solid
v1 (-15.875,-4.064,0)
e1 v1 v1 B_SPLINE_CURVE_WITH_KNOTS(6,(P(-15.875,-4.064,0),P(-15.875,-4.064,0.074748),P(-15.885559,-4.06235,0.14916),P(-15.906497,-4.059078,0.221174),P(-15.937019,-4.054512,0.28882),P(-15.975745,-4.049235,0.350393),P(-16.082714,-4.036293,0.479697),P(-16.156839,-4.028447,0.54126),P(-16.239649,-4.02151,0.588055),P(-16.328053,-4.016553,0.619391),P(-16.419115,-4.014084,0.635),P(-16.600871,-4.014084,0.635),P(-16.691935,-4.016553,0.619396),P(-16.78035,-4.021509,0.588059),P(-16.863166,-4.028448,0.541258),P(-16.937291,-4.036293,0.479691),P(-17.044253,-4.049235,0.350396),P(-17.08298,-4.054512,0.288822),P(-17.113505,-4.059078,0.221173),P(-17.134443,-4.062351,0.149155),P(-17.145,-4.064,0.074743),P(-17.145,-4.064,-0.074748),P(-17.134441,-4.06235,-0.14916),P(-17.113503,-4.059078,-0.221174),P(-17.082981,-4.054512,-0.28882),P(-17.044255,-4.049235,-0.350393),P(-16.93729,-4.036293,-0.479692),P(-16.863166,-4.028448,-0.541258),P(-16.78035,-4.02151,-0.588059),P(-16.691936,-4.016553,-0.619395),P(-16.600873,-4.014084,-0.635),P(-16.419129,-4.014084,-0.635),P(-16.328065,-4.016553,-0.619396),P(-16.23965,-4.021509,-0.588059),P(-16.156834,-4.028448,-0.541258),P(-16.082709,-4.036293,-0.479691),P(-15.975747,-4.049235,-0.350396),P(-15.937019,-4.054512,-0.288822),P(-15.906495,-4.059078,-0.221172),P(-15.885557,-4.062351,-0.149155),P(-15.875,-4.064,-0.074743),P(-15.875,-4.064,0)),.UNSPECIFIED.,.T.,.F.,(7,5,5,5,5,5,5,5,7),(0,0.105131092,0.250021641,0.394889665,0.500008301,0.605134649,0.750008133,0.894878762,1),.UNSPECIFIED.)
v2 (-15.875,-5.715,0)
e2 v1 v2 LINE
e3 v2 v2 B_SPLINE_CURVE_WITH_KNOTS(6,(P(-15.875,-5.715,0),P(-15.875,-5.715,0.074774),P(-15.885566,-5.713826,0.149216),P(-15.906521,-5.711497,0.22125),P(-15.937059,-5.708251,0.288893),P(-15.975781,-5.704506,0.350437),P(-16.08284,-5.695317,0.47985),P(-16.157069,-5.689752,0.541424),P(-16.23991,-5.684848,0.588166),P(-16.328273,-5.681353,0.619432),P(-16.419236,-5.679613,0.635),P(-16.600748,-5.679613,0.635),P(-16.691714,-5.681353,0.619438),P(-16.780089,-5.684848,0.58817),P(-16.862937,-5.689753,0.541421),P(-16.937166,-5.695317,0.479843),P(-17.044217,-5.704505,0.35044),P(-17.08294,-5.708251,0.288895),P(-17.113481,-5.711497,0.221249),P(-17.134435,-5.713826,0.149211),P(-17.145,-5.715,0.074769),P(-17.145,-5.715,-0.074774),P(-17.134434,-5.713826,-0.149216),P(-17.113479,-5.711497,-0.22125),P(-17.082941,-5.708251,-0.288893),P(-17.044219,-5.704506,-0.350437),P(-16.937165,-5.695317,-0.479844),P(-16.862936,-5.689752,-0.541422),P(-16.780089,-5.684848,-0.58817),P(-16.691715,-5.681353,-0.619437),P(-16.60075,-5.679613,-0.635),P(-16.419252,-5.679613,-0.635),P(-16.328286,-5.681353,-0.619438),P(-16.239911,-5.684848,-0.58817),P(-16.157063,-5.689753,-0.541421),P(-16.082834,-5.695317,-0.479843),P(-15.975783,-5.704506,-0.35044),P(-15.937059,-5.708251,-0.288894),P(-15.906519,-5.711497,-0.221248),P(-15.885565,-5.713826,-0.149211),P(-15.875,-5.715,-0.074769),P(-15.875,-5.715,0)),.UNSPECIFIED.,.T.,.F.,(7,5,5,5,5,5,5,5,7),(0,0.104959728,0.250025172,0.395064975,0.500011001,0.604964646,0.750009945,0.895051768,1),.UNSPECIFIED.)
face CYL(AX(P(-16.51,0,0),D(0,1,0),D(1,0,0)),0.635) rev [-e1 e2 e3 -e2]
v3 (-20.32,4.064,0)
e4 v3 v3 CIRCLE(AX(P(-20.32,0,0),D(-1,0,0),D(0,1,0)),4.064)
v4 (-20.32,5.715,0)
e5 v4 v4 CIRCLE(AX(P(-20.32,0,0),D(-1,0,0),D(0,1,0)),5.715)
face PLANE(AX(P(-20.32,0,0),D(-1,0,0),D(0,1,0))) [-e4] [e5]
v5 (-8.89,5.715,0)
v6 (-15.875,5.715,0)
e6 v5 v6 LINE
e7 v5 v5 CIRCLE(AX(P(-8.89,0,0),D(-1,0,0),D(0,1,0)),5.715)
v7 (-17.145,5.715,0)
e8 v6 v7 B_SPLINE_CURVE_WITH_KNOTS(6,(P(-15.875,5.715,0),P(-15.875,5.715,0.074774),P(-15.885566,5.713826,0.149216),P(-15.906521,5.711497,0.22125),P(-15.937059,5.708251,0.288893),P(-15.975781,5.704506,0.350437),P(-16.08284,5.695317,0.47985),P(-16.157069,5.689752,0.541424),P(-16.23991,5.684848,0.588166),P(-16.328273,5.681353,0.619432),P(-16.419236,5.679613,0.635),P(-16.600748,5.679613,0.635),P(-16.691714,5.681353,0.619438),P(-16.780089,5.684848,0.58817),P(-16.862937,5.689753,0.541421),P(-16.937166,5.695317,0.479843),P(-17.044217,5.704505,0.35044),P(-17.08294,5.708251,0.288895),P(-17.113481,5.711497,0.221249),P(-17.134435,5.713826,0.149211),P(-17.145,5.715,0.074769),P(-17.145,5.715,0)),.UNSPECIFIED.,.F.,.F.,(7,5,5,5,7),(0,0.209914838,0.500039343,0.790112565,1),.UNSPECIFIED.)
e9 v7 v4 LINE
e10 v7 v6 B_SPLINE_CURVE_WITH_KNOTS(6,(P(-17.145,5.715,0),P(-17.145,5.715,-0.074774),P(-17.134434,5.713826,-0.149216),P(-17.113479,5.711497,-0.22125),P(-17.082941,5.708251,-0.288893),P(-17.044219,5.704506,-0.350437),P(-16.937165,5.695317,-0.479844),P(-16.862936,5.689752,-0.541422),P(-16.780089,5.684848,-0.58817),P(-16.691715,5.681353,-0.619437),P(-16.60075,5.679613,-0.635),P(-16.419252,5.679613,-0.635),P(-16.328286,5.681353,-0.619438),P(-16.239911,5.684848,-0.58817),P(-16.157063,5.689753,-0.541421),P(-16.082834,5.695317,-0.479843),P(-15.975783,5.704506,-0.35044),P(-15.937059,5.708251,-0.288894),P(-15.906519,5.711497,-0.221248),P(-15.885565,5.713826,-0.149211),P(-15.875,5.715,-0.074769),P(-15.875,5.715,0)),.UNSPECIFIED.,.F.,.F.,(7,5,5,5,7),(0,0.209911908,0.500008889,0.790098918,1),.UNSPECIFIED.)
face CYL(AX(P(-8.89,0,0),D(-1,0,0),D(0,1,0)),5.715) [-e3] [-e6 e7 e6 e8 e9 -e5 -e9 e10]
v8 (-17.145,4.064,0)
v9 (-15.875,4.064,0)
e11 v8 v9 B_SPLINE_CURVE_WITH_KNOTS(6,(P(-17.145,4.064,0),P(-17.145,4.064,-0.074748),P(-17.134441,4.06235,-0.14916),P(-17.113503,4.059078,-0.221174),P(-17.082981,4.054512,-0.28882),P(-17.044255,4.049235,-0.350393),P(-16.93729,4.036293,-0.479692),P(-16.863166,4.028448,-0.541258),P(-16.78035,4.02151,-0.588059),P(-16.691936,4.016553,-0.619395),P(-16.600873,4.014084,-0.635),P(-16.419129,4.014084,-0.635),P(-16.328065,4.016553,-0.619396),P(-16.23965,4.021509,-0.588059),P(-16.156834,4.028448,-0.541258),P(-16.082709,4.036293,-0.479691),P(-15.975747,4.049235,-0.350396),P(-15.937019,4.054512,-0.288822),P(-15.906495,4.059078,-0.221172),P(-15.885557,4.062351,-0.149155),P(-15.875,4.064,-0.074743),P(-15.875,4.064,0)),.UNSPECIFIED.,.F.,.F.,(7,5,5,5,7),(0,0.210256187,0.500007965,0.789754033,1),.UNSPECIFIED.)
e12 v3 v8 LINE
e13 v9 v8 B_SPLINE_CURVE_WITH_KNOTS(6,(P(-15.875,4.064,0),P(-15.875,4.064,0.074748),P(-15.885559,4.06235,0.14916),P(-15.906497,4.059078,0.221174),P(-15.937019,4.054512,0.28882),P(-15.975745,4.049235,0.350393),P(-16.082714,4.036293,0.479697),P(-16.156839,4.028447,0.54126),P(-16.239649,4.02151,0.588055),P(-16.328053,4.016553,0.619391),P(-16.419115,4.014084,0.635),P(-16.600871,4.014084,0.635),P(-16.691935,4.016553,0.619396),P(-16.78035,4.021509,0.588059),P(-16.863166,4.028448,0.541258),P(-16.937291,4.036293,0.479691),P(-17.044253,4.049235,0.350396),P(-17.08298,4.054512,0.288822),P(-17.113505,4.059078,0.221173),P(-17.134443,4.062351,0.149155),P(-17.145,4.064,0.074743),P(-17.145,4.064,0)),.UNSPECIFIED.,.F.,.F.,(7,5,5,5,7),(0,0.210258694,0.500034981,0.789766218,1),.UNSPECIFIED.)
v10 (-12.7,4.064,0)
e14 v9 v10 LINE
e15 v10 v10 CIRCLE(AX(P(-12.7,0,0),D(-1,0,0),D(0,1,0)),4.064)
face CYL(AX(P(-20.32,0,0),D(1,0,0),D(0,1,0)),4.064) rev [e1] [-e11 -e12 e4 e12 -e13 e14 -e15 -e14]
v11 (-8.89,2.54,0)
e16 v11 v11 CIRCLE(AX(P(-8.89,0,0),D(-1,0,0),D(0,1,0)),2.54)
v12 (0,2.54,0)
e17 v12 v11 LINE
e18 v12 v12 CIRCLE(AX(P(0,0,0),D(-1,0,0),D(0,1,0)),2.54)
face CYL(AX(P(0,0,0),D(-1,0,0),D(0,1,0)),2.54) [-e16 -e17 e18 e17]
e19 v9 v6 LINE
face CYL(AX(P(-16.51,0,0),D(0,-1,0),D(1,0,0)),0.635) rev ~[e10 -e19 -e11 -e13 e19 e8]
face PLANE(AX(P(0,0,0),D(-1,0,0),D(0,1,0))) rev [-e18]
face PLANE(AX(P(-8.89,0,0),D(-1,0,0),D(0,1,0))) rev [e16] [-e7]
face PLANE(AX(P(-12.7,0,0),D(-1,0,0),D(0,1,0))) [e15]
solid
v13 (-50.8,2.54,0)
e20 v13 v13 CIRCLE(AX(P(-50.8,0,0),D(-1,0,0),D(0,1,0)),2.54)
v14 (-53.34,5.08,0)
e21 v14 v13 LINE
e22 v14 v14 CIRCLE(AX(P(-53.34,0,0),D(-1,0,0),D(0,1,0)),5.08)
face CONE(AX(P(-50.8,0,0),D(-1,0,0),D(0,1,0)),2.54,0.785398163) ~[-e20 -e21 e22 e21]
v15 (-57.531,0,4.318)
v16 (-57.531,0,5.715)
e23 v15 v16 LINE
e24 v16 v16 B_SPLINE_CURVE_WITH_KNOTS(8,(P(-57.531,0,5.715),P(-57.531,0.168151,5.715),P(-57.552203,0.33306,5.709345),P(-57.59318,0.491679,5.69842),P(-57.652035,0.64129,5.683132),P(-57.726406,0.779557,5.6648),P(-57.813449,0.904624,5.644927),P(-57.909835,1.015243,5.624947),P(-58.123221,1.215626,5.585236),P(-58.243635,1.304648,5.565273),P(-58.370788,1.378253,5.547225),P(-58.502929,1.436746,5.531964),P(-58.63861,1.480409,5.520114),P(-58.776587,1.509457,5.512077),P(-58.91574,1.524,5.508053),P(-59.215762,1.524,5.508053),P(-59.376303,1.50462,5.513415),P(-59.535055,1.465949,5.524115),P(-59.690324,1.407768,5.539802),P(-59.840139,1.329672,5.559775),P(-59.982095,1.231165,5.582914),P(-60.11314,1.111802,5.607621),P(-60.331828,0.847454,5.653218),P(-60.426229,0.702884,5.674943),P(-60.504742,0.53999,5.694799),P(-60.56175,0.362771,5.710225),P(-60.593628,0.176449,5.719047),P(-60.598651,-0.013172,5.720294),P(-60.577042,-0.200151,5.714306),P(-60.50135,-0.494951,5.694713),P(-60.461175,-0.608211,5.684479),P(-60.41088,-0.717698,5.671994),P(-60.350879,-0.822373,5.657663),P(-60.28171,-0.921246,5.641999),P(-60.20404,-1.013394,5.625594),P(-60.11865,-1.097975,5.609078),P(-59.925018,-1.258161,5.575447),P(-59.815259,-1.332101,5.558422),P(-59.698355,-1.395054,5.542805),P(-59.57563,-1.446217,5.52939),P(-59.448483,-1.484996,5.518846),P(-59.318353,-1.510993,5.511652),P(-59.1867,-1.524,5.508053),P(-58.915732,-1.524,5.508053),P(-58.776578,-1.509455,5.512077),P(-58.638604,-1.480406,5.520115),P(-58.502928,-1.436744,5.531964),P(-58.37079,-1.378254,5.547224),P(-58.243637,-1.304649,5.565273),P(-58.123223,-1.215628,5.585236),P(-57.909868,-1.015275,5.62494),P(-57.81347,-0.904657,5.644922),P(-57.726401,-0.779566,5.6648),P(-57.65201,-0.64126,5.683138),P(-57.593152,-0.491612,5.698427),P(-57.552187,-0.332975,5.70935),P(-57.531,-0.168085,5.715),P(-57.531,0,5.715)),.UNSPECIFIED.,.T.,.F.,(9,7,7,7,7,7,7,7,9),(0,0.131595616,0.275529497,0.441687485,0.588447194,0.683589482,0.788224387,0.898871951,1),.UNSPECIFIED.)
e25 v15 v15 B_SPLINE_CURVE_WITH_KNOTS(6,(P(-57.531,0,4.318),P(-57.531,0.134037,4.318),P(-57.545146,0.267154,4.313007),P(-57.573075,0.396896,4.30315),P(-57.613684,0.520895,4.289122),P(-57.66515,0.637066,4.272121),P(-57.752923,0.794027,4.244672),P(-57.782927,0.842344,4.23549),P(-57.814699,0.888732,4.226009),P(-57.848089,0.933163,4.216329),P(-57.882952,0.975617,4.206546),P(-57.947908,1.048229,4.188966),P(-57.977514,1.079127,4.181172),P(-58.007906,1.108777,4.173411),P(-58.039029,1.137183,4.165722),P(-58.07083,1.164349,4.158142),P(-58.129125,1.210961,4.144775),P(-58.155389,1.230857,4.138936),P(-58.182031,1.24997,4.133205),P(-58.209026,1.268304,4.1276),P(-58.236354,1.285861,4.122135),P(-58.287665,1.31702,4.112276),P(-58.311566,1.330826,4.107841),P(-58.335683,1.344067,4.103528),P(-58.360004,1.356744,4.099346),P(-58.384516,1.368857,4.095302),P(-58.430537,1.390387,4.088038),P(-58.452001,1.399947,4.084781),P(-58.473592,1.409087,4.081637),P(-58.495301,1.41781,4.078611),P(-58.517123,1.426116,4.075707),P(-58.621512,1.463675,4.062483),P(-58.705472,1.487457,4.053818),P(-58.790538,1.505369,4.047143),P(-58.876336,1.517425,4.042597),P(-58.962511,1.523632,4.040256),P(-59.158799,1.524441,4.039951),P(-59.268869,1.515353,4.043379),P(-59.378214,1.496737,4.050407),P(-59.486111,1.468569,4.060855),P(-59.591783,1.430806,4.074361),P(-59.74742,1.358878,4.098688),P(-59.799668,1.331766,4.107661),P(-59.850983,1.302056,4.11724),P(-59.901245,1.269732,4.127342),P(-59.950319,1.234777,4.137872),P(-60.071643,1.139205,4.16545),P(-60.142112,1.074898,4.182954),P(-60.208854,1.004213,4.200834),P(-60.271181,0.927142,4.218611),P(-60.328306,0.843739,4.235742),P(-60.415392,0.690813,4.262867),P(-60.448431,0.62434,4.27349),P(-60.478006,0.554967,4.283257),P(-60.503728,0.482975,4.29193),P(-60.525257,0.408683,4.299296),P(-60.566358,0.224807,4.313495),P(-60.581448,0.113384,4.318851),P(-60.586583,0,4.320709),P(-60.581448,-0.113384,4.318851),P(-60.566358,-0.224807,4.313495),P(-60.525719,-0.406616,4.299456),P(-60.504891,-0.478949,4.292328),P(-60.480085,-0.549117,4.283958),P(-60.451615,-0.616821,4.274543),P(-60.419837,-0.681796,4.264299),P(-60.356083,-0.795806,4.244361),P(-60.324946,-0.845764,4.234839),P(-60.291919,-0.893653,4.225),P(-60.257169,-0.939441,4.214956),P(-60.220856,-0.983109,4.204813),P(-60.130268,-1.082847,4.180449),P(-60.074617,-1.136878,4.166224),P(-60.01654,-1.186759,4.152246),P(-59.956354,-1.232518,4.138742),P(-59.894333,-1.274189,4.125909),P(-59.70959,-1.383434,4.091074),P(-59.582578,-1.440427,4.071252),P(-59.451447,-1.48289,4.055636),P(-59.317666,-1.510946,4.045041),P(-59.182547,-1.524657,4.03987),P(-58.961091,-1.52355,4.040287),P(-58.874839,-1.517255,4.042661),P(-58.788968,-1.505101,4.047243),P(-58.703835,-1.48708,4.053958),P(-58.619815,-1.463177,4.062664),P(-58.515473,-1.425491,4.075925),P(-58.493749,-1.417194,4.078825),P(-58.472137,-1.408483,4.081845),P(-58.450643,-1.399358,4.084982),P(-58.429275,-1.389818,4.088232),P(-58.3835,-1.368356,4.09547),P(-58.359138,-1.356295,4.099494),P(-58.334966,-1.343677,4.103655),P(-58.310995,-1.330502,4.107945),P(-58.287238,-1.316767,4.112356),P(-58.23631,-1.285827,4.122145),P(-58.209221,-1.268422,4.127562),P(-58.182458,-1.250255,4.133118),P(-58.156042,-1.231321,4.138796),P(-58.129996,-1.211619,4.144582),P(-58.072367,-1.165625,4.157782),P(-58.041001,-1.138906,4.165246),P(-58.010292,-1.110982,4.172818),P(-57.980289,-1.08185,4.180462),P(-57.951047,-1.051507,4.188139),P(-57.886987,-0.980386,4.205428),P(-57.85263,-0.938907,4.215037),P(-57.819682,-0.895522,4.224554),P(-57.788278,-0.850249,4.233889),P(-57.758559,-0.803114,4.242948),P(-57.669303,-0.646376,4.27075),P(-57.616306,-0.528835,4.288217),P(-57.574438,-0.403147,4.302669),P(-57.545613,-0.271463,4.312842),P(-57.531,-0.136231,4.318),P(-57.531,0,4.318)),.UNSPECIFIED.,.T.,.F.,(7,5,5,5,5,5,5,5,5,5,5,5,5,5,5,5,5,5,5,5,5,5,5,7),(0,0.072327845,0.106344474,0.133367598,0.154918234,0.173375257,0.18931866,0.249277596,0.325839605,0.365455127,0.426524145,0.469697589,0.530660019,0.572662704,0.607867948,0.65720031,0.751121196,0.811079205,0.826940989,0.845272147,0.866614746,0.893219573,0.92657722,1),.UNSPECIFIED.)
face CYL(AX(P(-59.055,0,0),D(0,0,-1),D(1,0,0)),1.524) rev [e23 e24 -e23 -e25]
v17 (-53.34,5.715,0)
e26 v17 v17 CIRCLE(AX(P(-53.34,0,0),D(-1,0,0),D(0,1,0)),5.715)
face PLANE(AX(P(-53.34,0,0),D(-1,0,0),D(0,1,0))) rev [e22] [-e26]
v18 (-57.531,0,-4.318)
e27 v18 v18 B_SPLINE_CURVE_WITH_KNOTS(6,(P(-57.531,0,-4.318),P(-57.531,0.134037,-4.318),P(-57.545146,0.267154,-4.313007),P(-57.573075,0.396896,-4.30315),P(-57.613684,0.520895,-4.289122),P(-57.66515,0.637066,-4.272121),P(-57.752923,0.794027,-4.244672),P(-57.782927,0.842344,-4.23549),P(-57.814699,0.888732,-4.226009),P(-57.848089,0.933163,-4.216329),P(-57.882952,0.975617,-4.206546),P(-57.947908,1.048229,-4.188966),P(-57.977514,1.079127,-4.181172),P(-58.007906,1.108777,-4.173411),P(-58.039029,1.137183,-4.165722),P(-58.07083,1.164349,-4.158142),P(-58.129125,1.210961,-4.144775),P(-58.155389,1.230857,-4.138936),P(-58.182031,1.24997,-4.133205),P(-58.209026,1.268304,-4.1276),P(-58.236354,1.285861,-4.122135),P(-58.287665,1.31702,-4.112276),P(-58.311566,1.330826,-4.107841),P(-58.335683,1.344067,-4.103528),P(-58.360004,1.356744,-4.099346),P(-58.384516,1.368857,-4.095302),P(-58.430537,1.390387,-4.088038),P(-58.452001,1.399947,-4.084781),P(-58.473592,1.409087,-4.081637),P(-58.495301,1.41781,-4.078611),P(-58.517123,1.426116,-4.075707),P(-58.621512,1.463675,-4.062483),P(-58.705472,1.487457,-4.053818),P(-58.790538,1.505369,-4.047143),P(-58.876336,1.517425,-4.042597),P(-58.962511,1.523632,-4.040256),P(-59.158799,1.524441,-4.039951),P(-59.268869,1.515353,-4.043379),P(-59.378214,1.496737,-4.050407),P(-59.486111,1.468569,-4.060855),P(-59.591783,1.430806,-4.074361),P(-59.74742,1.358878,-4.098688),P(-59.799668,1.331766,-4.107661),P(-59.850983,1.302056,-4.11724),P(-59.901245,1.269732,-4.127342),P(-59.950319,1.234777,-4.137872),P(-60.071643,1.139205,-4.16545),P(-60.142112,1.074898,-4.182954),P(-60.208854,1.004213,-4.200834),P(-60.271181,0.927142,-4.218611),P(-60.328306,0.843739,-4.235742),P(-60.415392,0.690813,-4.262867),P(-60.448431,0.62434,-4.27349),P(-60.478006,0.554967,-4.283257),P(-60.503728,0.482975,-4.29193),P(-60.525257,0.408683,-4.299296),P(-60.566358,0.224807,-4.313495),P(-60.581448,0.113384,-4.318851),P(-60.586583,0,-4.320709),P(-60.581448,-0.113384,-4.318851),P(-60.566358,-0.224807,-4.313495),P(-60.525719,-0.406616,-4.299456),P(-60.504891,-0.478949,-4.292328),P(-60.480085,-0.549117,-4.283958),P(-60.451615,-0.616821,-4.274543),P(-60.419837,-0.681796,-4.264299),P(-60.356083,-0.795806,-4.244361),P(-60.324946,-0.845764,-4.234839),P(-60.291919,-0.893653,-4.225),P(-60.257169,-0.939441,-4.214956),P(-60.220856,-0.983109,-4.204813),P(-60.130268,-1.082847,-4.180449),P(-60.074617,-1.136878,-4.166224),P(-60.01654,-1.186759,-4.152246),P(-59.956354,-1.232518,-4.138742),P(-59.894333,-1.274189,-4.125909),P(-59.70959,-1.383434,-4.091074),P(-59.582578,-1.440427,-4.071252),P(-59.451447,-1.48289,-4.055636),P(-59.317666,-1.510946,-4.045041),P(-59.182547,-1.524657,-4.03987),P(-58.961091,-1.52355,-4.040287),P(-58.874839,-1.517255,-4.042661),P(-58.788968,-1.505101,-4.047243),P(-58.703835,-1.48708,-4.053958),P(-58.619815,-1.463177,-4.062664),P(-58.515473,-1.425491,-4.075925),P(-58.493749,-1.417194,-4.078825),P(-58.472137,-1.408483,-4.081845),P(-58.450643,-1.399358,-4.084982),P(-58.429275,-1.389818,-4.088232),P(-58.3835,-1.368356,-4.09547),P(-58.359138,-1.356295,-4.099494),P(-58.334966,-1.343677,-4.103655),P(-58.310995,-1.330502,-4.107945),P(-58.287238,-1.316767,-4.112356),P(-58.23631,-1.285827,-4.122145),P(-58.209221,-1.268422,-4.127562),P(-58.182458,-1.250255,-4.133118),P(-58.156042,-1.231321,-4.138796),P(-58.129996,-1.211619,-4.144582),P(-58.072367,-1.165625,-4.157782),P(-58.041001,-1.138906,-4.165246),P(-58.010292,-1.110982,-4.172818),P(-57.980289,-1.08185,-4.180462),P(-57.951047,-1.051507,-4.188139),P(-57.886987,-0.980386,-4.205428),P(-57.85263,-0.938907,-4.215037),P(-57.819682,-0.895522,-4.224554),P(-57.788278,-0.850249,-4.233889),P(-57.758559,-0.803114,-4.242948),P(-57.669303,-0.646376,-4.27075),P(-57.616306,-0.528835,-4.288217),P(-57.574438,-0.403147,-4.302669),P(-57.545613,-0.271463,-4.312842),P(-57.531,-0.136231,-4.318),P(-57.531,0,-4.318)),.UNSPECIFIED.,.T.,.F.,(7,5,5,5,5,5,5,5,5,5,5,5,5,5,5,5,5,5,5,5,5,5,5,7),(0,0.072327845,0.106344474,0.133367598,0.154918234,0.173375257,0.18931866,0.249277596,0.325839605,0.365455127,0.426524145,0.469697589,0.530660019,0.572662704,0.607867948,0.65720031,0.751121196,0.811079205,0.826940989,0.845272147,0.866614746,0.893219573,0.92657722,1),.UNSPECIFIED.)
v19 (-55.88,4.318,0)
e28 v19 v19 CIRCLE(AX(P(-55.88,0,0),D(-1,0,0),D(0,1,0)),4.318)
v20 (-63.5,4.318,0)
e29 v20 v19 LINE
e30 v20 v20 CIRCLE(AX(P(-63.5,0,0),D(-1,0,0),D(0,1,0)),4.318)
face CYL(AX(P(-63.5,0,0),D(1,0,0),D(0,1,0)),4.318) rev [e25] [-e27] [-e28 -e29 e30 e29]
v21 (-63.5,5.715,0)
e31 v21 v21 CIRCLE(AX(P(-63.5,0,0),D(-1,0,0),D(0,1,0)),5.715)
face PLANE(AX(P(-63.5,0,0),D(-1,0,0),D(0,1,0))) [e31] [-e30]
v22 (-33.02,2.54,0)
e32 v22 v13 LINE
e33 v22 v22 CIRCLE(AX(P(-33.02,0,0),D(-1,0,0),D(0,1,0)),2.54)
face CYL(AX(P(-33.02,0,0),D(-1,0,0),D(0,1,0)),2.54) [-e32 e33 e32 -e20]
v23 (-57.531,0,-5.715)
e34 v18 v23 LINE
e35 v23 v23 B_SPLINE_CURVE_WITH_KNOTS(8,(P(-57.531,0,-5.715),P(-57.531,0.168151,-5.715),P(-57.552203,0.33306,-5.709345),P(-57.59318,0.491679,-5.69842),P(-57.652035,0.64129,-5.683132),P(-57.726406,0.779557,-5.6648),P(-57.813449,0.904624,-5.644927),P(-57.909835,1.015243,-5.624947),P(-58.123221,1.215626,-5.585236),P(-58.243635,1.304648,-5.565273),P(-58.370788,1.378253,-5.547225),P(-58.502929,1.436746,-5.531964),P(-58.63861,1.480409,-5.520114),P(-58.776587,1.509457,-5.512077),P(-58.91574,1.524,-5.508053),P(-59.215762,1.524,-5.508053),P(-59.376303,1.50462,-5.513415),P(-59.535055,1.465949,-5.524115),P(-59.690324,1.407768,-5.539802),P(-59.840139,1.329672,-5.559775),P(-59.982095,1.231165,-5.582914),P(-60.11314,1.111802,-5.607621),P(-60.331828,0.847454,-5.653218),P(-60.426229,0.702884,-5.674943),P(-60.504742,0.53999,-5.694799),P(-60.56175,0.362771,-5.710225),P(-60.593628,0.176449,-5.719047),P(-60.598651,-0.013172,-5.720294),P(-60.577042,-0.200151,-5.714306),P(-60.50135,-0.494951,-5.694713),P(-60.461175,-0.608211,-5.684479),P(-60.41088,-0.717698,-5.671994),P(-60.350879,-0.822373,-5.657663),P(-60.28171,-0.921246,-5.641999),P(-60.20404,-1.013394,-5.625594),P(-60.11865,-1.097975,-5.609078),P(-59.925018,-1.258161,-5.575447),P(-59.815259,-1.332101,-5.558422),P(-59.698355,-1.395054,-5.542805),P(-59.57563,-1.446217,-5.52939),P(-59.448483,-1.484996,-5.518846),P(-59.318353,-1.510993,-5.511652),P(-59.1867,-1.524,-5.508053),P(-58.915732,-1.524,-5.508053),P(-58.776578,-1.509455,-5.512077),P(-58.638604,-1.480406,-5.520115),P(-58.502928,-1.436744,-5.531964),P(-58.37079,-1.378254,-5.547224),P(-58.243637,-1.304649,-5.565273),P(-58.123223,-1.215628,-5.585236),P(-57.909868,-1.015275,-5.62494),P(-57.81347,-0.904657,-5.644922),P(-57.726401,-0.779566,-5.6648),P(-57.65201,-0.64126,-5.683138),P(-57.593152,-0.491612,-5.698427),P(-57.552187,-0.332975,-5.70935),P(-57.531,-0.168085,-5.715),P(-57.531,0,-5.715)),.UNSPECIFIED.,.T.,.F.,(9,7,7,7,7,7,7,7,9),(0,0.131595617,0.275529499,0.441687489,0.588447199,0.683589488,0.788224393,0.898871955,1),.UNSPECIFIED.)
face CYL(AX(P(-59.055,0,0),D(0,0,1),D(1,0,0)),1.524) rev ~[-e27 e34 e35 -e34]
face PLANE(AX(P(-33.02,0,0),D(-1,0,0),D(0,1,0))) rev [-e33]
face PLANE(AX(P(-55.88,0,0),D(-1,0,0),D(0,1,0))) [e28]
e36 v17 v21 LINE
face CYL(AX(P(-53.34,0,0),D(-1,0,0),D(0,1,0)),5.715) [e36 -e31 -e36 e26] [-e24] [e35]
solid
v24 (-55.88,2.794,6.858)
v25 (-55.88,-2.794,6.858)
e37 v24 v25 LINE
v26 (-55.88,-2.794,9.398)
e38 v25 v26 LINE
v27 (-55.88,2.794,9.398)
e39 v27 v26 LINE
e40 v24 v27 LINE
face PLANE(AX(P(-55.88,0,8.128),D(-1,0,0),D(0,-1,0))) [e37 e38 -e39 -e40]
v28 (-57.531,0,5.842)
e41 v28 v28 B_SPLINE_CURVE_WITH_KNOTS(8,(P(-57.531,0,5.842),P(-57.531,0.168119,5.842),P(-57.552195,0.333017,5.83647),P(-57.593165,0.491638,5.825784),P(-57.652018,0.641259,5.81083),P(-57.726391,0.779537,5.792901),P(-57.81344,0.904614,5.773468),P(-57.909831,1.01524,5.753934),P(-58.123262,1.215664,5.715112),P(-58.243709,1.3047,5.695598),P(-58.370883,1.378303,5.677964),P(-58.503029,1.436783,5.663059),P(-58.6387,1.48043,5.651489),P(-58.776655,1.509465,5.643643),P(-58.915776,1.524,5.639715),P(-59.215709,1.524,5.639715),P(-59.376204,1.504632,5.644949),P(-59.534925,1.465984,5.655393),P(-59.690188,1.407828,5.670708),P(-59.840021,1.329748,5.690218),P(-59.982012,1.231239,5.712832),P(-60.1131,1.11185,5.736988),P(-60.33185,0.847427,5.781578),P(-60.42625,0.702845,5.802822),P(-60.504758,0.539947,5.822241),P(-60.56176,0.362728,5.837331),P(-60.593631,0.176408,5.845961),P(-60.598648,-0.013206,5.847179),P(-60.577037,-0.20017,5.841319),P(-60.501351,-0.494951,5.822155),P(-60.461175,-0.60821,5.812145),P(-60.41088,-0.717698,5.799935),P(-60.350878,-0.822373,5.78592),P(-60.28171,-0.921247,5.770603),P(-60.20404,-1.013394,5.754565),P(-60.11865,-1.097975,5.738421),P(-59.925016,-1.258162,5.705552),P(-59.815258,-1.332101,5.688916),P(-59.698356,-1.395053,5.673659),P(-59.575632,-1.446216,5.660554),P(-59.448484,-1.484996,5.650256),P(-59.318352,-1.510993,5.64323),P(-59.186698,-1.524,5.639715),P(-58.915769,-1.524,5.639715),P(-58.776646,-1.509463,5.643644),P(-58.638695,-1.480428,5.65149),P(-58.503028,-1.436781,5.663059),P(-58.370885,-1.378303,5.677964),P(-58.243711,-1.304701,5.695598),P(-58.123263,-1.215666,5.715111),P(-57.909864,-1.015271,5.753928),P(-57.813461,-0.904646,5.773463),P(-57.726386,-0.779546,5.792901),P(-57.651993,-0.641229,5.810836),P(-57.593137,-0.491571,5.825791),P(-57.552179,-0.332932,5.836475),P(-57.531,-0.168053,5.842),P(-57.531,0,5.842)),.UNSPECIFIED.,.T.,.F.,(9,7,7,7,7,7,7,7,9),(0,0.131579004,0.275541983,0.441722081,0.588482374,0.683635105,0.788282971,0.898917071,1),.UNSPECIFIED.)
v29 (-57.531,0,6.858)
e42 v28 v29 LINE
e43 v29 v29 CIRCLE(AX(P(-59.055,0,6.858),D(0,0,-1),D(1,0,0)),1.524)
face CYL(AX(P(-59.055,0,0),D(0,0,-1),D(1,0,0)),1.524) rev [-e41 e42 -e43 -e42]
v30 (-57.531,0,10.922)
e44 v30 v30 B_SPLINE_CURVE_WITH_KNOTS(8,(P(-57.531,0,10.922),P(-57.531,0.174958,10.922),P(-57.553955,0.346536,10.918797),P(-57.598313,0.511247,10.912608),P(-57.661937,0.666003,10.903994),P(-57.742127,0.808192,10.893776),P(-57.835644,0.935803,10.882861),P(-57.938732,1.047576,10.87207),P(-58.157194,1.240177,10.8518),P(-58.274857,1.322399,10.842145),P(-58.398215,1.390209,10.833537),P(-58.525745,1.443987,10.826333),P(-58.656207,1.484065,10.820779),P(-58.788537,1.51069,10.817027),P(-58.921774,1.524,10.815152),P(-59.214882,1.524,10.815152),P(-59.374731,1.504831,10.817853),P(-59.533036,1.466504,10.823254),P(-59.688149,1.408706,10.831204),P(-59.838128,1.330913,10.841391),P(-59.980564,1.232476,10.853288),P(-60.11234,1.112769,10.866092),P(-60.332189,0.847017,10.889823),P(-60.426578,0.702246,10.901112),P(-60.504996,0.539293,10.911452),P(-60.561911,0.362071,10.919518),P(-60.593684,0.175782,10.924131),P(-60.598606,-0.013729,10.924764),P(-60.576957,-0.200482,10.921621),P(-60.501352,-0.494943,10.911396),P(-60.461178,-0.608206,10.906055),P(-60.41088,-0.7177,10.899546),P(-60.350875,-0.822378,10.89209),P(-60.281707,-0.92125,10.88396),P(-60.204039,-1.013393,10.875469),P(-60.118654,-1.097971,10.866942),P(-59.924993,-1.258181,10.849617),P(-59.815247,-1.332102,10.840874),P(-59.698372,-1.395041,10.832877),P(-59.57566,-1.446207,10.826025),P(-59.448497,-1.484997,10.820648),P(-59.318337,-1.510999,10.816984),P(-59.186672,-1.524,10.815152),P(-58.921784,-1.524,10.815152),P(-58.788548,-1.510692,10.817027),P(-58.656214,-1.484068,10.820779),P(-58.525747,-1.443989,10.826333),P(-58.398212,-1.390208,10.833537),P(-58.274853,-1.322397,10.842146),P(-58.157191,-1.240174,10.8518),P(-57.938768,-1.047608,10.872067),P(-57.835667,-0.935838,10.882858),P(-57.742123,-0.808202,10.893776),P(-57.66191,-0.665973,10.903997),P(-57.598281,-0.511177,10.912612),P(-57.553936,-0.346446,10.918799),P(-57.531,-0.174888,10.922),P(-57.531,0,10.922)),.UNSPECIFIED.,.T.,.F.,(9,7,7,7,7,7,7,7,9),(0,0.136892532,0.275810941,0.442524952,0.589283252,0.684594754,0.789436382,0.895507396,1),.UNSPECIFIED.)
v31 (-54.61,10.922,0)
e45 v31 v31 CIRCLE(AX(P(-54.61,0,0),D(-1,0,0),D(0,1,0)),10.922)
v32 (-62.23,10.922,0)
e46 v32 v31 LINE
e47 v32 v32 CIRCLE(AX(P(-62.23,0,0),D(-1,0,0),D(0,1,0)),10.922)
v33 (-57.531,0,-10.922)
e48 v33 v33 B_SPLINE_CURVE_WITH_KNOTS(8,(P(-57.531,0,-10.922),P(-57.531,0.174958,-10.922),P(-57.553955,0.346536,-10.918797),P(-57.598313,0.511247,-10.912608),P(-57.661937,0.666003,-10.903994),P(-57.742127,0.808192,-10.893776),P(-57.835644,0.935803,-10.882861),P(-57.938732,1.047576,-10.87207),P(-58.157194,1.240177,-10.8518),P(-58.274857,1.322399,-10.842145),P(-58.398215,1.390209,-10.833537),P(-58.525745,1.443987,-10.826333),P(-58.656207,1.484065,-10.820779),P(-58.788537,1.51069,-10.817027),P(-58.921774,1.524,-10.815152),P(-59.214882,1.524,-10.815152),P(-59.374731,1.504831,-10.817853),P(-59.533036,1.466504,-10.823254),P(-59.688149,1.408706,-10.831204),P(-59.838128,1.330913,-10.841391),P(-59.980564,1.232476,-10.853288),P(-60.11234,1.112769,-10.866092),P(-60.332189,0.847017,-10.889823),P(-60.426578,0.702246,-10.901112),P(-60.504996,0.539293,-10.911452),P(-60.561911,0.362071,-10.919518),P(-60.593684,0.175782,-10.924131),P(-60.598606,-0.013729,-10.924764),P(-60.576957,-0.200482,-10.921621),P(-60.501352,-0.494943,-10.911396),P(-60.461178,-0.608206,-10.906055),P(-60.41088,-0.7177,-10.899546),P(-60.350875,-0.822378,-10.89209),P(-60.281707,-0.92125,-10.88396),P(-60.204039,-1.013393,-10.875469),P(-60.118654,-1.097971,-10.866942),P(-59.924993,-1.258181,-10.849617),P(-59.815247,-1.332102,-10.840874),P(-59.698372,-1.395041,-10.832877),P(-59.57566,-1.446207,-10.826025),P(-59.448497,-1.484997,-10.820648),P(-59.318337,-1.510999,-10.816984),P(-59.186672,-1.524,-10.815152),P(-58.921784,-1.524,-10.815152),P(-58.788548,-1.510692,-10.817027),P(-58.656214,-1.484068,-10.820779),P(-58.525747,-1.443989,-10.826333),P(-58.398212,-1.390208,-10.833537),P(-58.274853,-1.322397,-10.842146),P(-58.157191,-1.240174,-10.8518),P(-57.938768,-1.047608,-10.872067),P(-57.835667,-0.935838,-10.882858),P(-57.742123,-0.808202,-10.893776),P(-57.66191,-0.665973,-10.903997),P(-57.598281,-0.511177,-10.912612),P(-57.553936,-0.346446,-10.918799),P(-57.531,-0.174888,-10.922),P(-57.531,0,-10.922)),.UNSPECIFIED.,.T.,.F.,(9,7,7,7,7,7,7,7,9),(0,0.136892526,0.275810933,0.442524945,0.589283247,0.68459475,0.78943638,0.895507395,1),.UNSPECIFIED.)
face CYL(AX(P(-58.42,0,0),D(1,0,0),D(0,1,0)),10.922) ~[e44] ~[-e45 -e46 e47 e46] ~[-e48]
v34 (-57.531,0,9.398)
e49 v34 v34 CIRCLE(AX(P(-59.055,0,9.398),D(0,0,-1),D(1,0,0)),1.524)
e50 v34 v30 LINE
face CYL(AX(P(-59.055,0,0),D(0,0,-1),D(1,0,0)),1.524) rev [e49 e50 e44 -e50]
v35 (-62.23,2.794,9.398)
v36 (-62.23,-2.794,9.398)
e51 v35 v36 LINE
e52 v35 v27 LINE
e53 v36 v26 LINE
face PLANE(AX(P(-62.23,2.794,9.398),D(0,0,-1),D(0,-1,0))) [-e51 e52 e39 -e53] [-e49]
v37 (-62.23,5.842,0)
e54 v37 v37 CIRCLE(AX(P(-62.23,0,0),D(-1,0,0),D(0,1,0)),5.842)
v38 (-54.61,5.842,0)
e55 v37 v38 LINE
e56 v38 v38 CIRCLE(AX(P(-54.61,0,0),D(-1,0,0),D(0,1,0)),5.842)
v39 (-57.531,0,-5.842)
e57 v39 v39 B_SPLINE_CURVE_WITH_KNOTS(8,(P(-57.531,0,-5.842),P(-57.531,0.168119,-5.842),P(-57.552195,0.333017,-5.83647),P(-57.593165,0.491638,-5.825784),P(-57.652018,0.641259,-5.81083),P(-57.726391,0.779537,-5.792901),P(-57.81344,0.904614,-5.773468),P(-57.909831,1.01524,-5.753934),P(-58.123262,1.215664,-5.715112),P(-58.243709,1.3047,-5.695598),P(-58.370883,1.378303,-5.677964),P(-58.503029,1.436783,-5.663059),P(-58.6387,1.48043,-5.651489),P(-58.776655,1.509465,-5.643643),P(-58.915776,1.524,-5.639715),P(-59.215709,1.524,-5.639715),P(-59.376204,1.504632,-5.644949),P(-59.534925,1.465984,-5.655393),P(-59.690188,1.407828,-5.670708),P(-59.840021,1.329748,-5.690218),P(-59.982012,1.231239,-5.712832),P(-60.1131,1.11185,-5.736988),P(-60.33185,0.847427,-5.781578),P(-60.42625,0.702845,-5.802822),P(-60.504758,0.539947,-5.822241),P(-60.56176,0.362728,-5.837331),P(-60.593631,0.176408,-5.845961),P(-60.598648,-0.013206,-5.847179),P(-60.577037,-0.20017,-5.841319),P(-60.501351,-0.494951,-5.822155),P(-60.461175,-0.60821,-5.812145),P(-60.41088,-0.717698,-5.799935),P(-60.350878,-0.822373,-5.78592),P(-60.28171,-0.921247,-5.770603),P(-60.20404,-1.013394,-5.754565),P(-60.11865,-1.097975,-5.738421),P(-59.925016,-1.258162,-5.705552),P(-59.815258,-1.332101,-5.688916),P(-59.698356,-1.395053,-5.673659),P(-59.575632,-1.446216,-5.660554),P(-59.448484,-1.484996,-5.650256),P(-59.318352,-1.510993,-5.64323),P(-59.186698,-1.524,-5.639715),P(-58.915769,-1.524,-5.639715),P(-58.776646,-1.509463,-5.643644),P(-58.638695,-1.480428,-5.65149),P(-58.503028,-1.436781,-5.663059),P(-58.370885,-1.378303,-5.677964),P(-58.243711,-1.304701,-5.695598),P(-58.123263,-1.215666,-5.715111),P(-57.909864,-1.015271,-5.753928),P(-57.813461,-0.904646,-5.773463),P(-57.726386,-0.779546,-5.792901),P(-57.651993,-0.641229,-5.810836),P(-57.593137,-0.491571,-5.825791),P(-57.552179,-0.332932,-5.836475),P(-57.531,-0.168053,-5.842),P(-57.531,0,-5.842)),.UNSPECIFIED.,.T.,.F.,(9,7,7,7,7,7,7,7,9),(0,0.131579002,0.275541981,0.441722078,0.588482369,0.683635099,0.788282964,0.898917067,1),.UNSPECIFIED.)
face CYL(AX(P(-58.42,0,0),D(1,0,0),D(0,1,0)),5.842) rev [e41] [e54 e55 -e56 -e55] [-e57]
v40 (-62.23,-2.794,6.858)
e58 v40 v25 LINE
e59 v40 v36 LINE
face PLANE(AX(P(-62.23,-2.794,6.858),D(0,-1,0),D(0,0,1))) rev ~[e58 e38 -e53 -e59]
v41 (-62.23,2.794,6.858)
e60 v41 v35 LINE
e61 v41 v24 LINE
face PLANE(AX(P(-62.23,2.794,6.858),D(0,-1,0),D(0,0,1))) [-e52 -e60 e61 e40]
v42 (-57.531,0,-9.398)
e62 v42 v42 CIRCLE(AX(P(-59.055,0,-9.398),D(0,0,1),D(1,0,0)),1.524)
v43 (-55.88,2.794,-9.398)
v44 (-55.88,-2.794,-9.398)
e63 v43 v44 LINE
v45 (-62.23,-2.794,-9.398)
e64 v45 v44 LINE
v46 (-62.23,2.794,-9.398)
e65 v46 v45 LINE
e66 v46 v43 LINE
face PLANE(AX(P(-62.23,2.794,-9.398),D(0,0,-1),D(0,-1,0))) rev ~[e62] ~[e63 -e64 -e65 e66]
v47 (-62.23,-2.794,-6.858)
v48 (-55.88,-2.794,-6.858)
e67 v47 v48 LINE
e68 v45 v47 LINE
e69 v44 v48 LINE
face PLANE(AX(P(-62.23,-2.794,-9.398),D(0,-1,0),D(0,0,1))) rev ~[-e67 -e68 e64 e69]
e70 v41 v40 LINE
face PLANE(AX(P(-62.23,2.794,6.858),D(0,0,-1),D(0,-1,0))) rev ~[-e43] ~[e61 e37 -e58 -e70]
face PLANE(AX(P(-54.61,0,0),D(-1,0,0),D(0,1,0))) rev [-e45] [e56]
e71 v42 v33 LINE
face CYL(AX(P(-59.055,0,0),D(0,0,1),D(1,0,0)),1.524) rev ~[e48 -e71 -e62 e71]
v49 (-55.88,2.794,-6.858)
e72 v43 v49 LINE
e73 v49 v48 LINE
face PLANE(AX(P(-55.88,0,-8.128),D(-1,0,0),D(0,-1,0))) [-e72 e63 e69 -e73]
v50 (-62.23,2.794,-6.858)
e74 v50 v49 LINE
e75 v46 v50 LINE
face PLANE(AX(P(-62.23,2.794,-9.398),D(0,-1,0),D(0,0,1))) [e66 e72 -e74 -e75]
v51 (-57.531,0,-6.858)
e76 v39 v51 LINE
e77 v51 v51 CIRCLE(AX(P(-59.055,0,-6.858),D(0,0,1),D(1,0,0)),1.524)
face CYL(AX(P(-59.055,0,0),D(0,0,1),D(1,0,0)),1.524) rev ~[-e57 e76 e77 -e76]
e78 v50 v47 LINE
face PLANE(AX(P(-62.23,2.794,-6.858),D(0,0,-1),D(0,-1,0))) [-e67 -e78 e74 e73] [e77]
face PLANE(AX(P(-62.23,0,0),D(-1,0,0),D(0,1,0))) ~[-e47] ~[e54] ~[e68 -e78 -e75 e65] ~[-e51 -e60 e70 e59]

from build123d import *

# Parameters (mm, degrees)
F2_R           = 0.635
F3_DEPTH       = 5.716
F4_DEPTH       = 5.7160001
F5_SIZE        = 2.54
F0_W           = 7.62
F0_H           = 5.08
F7_W           = 5.588
F7_H           = 2.54
F8_DEPTH       = 6.35
F9_R           = 1.524
F10_DEPTH      = 10.923
F10_DEPTH_BACK = 10.923


with BuildPart() as f1:
    # F0 (on Top) → F1 (revolve)
    with BuildSketch(Plane.XY):
        Polygon((-8.89, 5.715), (-20.32, 5.715), (-20.32, 4.064), (-12.7, 4.064), (-12.7, 0), (0, 0), (0, 2.54), (-8.89, 2.54), align=None)
    revolve(axis=Axis((-12.0637848582, 0, 0), (-1, 0, 0)))

    # F2 (on Front) → F3 (cut, through all)
    with BuildSketch(Plane.XZ):
        with Locations((-16.51, 0)):
            Circle(F2_R)
    extrude(amount=-F3_DEPTH, mode=Mode.SUBTRACT)

    # F2 (on Front) → F4 (cut, through all)
    with BuildSketch(Plane.XZ):
        with Locations((-16.51, 0)):
            Circle(F2_R)
    extrude(amount=F4_DEPTH, mode=Mode.SUBTRACT)


with BuildPart() as f1b:
    # F0 (on Top) → F1, piece 2 (revolve)
    with BuildSketch(Plane.XY):
        Polygon((-53.34, 2.54), (-53.34, 5.715), (-63.5, 5.715), (-63.5, 4.318), (-55.88, 4.318), (-55.88, 0), (-33.02, 0), (-33.02, 2.54), align=None)
    revolve(axis=Axis((-12.0637848582, 0, 0), (-1, 0, 0)))

    # F5
    f5_edges = [f1b.edges().sort_by_distance(p)[0] for p in [
        (-53.34, -2.54, 0),
    ]]
    chamfer(f5_edges, length=F5_SIZE)


with BuildPart() as f6:
    # F0 (on Top) → F6 (revolve)
    with BuildSketch(Plane.XY):
        with Locations((-58.42, 8.382)):
            Rectangle(F0_W, F0_H)
    revolve(axis=Axis((-12.0637848582, 0, 0), (-1, 0, 0)))

    # F7 (on face) → F8 (cut)
    with BuildSketch(Plane(origin=(-62.23, 0, 0), x_dir=(0, -1, 0), z_dir=(-1, 0, 0))):
        with Locations((0, 8.128)):
            Rectangle(F7_W, F7_H)
        with Locations((0, -8.128)):
            Rectangle(F7_W, F7_H)
    extrude(amount=-F8_DEPTH, mode=Mode.SUBTRACT)


with BuildPart() as f10_tool:
    # F9 (on Top) → F10 (new body, two sides)
    with BuildSketch(Plane.XY) as f10_sk:
        with Locations((-59.055, 0)):
            Circle(F9_R)
    extrude(amount=-F10_DEPTH)
    extrude(f10_sk.sketch, amount=F10_DEPTH_BACK)


with BuildPart() as f1b_1:
    add(f1b.part)

    # F10: cut by f10_tool
    add(f10_tool.part, mode=Mode.SUBTRACT)


with BuildPart() as f6_1:
    add(f6.part)

    # F10: cut by f10_tool
    add(f10_tool.part, mode=Mode.SUBTRACT)


solid = Compound([f1.part, f1b_1.part, f6_1.part])
